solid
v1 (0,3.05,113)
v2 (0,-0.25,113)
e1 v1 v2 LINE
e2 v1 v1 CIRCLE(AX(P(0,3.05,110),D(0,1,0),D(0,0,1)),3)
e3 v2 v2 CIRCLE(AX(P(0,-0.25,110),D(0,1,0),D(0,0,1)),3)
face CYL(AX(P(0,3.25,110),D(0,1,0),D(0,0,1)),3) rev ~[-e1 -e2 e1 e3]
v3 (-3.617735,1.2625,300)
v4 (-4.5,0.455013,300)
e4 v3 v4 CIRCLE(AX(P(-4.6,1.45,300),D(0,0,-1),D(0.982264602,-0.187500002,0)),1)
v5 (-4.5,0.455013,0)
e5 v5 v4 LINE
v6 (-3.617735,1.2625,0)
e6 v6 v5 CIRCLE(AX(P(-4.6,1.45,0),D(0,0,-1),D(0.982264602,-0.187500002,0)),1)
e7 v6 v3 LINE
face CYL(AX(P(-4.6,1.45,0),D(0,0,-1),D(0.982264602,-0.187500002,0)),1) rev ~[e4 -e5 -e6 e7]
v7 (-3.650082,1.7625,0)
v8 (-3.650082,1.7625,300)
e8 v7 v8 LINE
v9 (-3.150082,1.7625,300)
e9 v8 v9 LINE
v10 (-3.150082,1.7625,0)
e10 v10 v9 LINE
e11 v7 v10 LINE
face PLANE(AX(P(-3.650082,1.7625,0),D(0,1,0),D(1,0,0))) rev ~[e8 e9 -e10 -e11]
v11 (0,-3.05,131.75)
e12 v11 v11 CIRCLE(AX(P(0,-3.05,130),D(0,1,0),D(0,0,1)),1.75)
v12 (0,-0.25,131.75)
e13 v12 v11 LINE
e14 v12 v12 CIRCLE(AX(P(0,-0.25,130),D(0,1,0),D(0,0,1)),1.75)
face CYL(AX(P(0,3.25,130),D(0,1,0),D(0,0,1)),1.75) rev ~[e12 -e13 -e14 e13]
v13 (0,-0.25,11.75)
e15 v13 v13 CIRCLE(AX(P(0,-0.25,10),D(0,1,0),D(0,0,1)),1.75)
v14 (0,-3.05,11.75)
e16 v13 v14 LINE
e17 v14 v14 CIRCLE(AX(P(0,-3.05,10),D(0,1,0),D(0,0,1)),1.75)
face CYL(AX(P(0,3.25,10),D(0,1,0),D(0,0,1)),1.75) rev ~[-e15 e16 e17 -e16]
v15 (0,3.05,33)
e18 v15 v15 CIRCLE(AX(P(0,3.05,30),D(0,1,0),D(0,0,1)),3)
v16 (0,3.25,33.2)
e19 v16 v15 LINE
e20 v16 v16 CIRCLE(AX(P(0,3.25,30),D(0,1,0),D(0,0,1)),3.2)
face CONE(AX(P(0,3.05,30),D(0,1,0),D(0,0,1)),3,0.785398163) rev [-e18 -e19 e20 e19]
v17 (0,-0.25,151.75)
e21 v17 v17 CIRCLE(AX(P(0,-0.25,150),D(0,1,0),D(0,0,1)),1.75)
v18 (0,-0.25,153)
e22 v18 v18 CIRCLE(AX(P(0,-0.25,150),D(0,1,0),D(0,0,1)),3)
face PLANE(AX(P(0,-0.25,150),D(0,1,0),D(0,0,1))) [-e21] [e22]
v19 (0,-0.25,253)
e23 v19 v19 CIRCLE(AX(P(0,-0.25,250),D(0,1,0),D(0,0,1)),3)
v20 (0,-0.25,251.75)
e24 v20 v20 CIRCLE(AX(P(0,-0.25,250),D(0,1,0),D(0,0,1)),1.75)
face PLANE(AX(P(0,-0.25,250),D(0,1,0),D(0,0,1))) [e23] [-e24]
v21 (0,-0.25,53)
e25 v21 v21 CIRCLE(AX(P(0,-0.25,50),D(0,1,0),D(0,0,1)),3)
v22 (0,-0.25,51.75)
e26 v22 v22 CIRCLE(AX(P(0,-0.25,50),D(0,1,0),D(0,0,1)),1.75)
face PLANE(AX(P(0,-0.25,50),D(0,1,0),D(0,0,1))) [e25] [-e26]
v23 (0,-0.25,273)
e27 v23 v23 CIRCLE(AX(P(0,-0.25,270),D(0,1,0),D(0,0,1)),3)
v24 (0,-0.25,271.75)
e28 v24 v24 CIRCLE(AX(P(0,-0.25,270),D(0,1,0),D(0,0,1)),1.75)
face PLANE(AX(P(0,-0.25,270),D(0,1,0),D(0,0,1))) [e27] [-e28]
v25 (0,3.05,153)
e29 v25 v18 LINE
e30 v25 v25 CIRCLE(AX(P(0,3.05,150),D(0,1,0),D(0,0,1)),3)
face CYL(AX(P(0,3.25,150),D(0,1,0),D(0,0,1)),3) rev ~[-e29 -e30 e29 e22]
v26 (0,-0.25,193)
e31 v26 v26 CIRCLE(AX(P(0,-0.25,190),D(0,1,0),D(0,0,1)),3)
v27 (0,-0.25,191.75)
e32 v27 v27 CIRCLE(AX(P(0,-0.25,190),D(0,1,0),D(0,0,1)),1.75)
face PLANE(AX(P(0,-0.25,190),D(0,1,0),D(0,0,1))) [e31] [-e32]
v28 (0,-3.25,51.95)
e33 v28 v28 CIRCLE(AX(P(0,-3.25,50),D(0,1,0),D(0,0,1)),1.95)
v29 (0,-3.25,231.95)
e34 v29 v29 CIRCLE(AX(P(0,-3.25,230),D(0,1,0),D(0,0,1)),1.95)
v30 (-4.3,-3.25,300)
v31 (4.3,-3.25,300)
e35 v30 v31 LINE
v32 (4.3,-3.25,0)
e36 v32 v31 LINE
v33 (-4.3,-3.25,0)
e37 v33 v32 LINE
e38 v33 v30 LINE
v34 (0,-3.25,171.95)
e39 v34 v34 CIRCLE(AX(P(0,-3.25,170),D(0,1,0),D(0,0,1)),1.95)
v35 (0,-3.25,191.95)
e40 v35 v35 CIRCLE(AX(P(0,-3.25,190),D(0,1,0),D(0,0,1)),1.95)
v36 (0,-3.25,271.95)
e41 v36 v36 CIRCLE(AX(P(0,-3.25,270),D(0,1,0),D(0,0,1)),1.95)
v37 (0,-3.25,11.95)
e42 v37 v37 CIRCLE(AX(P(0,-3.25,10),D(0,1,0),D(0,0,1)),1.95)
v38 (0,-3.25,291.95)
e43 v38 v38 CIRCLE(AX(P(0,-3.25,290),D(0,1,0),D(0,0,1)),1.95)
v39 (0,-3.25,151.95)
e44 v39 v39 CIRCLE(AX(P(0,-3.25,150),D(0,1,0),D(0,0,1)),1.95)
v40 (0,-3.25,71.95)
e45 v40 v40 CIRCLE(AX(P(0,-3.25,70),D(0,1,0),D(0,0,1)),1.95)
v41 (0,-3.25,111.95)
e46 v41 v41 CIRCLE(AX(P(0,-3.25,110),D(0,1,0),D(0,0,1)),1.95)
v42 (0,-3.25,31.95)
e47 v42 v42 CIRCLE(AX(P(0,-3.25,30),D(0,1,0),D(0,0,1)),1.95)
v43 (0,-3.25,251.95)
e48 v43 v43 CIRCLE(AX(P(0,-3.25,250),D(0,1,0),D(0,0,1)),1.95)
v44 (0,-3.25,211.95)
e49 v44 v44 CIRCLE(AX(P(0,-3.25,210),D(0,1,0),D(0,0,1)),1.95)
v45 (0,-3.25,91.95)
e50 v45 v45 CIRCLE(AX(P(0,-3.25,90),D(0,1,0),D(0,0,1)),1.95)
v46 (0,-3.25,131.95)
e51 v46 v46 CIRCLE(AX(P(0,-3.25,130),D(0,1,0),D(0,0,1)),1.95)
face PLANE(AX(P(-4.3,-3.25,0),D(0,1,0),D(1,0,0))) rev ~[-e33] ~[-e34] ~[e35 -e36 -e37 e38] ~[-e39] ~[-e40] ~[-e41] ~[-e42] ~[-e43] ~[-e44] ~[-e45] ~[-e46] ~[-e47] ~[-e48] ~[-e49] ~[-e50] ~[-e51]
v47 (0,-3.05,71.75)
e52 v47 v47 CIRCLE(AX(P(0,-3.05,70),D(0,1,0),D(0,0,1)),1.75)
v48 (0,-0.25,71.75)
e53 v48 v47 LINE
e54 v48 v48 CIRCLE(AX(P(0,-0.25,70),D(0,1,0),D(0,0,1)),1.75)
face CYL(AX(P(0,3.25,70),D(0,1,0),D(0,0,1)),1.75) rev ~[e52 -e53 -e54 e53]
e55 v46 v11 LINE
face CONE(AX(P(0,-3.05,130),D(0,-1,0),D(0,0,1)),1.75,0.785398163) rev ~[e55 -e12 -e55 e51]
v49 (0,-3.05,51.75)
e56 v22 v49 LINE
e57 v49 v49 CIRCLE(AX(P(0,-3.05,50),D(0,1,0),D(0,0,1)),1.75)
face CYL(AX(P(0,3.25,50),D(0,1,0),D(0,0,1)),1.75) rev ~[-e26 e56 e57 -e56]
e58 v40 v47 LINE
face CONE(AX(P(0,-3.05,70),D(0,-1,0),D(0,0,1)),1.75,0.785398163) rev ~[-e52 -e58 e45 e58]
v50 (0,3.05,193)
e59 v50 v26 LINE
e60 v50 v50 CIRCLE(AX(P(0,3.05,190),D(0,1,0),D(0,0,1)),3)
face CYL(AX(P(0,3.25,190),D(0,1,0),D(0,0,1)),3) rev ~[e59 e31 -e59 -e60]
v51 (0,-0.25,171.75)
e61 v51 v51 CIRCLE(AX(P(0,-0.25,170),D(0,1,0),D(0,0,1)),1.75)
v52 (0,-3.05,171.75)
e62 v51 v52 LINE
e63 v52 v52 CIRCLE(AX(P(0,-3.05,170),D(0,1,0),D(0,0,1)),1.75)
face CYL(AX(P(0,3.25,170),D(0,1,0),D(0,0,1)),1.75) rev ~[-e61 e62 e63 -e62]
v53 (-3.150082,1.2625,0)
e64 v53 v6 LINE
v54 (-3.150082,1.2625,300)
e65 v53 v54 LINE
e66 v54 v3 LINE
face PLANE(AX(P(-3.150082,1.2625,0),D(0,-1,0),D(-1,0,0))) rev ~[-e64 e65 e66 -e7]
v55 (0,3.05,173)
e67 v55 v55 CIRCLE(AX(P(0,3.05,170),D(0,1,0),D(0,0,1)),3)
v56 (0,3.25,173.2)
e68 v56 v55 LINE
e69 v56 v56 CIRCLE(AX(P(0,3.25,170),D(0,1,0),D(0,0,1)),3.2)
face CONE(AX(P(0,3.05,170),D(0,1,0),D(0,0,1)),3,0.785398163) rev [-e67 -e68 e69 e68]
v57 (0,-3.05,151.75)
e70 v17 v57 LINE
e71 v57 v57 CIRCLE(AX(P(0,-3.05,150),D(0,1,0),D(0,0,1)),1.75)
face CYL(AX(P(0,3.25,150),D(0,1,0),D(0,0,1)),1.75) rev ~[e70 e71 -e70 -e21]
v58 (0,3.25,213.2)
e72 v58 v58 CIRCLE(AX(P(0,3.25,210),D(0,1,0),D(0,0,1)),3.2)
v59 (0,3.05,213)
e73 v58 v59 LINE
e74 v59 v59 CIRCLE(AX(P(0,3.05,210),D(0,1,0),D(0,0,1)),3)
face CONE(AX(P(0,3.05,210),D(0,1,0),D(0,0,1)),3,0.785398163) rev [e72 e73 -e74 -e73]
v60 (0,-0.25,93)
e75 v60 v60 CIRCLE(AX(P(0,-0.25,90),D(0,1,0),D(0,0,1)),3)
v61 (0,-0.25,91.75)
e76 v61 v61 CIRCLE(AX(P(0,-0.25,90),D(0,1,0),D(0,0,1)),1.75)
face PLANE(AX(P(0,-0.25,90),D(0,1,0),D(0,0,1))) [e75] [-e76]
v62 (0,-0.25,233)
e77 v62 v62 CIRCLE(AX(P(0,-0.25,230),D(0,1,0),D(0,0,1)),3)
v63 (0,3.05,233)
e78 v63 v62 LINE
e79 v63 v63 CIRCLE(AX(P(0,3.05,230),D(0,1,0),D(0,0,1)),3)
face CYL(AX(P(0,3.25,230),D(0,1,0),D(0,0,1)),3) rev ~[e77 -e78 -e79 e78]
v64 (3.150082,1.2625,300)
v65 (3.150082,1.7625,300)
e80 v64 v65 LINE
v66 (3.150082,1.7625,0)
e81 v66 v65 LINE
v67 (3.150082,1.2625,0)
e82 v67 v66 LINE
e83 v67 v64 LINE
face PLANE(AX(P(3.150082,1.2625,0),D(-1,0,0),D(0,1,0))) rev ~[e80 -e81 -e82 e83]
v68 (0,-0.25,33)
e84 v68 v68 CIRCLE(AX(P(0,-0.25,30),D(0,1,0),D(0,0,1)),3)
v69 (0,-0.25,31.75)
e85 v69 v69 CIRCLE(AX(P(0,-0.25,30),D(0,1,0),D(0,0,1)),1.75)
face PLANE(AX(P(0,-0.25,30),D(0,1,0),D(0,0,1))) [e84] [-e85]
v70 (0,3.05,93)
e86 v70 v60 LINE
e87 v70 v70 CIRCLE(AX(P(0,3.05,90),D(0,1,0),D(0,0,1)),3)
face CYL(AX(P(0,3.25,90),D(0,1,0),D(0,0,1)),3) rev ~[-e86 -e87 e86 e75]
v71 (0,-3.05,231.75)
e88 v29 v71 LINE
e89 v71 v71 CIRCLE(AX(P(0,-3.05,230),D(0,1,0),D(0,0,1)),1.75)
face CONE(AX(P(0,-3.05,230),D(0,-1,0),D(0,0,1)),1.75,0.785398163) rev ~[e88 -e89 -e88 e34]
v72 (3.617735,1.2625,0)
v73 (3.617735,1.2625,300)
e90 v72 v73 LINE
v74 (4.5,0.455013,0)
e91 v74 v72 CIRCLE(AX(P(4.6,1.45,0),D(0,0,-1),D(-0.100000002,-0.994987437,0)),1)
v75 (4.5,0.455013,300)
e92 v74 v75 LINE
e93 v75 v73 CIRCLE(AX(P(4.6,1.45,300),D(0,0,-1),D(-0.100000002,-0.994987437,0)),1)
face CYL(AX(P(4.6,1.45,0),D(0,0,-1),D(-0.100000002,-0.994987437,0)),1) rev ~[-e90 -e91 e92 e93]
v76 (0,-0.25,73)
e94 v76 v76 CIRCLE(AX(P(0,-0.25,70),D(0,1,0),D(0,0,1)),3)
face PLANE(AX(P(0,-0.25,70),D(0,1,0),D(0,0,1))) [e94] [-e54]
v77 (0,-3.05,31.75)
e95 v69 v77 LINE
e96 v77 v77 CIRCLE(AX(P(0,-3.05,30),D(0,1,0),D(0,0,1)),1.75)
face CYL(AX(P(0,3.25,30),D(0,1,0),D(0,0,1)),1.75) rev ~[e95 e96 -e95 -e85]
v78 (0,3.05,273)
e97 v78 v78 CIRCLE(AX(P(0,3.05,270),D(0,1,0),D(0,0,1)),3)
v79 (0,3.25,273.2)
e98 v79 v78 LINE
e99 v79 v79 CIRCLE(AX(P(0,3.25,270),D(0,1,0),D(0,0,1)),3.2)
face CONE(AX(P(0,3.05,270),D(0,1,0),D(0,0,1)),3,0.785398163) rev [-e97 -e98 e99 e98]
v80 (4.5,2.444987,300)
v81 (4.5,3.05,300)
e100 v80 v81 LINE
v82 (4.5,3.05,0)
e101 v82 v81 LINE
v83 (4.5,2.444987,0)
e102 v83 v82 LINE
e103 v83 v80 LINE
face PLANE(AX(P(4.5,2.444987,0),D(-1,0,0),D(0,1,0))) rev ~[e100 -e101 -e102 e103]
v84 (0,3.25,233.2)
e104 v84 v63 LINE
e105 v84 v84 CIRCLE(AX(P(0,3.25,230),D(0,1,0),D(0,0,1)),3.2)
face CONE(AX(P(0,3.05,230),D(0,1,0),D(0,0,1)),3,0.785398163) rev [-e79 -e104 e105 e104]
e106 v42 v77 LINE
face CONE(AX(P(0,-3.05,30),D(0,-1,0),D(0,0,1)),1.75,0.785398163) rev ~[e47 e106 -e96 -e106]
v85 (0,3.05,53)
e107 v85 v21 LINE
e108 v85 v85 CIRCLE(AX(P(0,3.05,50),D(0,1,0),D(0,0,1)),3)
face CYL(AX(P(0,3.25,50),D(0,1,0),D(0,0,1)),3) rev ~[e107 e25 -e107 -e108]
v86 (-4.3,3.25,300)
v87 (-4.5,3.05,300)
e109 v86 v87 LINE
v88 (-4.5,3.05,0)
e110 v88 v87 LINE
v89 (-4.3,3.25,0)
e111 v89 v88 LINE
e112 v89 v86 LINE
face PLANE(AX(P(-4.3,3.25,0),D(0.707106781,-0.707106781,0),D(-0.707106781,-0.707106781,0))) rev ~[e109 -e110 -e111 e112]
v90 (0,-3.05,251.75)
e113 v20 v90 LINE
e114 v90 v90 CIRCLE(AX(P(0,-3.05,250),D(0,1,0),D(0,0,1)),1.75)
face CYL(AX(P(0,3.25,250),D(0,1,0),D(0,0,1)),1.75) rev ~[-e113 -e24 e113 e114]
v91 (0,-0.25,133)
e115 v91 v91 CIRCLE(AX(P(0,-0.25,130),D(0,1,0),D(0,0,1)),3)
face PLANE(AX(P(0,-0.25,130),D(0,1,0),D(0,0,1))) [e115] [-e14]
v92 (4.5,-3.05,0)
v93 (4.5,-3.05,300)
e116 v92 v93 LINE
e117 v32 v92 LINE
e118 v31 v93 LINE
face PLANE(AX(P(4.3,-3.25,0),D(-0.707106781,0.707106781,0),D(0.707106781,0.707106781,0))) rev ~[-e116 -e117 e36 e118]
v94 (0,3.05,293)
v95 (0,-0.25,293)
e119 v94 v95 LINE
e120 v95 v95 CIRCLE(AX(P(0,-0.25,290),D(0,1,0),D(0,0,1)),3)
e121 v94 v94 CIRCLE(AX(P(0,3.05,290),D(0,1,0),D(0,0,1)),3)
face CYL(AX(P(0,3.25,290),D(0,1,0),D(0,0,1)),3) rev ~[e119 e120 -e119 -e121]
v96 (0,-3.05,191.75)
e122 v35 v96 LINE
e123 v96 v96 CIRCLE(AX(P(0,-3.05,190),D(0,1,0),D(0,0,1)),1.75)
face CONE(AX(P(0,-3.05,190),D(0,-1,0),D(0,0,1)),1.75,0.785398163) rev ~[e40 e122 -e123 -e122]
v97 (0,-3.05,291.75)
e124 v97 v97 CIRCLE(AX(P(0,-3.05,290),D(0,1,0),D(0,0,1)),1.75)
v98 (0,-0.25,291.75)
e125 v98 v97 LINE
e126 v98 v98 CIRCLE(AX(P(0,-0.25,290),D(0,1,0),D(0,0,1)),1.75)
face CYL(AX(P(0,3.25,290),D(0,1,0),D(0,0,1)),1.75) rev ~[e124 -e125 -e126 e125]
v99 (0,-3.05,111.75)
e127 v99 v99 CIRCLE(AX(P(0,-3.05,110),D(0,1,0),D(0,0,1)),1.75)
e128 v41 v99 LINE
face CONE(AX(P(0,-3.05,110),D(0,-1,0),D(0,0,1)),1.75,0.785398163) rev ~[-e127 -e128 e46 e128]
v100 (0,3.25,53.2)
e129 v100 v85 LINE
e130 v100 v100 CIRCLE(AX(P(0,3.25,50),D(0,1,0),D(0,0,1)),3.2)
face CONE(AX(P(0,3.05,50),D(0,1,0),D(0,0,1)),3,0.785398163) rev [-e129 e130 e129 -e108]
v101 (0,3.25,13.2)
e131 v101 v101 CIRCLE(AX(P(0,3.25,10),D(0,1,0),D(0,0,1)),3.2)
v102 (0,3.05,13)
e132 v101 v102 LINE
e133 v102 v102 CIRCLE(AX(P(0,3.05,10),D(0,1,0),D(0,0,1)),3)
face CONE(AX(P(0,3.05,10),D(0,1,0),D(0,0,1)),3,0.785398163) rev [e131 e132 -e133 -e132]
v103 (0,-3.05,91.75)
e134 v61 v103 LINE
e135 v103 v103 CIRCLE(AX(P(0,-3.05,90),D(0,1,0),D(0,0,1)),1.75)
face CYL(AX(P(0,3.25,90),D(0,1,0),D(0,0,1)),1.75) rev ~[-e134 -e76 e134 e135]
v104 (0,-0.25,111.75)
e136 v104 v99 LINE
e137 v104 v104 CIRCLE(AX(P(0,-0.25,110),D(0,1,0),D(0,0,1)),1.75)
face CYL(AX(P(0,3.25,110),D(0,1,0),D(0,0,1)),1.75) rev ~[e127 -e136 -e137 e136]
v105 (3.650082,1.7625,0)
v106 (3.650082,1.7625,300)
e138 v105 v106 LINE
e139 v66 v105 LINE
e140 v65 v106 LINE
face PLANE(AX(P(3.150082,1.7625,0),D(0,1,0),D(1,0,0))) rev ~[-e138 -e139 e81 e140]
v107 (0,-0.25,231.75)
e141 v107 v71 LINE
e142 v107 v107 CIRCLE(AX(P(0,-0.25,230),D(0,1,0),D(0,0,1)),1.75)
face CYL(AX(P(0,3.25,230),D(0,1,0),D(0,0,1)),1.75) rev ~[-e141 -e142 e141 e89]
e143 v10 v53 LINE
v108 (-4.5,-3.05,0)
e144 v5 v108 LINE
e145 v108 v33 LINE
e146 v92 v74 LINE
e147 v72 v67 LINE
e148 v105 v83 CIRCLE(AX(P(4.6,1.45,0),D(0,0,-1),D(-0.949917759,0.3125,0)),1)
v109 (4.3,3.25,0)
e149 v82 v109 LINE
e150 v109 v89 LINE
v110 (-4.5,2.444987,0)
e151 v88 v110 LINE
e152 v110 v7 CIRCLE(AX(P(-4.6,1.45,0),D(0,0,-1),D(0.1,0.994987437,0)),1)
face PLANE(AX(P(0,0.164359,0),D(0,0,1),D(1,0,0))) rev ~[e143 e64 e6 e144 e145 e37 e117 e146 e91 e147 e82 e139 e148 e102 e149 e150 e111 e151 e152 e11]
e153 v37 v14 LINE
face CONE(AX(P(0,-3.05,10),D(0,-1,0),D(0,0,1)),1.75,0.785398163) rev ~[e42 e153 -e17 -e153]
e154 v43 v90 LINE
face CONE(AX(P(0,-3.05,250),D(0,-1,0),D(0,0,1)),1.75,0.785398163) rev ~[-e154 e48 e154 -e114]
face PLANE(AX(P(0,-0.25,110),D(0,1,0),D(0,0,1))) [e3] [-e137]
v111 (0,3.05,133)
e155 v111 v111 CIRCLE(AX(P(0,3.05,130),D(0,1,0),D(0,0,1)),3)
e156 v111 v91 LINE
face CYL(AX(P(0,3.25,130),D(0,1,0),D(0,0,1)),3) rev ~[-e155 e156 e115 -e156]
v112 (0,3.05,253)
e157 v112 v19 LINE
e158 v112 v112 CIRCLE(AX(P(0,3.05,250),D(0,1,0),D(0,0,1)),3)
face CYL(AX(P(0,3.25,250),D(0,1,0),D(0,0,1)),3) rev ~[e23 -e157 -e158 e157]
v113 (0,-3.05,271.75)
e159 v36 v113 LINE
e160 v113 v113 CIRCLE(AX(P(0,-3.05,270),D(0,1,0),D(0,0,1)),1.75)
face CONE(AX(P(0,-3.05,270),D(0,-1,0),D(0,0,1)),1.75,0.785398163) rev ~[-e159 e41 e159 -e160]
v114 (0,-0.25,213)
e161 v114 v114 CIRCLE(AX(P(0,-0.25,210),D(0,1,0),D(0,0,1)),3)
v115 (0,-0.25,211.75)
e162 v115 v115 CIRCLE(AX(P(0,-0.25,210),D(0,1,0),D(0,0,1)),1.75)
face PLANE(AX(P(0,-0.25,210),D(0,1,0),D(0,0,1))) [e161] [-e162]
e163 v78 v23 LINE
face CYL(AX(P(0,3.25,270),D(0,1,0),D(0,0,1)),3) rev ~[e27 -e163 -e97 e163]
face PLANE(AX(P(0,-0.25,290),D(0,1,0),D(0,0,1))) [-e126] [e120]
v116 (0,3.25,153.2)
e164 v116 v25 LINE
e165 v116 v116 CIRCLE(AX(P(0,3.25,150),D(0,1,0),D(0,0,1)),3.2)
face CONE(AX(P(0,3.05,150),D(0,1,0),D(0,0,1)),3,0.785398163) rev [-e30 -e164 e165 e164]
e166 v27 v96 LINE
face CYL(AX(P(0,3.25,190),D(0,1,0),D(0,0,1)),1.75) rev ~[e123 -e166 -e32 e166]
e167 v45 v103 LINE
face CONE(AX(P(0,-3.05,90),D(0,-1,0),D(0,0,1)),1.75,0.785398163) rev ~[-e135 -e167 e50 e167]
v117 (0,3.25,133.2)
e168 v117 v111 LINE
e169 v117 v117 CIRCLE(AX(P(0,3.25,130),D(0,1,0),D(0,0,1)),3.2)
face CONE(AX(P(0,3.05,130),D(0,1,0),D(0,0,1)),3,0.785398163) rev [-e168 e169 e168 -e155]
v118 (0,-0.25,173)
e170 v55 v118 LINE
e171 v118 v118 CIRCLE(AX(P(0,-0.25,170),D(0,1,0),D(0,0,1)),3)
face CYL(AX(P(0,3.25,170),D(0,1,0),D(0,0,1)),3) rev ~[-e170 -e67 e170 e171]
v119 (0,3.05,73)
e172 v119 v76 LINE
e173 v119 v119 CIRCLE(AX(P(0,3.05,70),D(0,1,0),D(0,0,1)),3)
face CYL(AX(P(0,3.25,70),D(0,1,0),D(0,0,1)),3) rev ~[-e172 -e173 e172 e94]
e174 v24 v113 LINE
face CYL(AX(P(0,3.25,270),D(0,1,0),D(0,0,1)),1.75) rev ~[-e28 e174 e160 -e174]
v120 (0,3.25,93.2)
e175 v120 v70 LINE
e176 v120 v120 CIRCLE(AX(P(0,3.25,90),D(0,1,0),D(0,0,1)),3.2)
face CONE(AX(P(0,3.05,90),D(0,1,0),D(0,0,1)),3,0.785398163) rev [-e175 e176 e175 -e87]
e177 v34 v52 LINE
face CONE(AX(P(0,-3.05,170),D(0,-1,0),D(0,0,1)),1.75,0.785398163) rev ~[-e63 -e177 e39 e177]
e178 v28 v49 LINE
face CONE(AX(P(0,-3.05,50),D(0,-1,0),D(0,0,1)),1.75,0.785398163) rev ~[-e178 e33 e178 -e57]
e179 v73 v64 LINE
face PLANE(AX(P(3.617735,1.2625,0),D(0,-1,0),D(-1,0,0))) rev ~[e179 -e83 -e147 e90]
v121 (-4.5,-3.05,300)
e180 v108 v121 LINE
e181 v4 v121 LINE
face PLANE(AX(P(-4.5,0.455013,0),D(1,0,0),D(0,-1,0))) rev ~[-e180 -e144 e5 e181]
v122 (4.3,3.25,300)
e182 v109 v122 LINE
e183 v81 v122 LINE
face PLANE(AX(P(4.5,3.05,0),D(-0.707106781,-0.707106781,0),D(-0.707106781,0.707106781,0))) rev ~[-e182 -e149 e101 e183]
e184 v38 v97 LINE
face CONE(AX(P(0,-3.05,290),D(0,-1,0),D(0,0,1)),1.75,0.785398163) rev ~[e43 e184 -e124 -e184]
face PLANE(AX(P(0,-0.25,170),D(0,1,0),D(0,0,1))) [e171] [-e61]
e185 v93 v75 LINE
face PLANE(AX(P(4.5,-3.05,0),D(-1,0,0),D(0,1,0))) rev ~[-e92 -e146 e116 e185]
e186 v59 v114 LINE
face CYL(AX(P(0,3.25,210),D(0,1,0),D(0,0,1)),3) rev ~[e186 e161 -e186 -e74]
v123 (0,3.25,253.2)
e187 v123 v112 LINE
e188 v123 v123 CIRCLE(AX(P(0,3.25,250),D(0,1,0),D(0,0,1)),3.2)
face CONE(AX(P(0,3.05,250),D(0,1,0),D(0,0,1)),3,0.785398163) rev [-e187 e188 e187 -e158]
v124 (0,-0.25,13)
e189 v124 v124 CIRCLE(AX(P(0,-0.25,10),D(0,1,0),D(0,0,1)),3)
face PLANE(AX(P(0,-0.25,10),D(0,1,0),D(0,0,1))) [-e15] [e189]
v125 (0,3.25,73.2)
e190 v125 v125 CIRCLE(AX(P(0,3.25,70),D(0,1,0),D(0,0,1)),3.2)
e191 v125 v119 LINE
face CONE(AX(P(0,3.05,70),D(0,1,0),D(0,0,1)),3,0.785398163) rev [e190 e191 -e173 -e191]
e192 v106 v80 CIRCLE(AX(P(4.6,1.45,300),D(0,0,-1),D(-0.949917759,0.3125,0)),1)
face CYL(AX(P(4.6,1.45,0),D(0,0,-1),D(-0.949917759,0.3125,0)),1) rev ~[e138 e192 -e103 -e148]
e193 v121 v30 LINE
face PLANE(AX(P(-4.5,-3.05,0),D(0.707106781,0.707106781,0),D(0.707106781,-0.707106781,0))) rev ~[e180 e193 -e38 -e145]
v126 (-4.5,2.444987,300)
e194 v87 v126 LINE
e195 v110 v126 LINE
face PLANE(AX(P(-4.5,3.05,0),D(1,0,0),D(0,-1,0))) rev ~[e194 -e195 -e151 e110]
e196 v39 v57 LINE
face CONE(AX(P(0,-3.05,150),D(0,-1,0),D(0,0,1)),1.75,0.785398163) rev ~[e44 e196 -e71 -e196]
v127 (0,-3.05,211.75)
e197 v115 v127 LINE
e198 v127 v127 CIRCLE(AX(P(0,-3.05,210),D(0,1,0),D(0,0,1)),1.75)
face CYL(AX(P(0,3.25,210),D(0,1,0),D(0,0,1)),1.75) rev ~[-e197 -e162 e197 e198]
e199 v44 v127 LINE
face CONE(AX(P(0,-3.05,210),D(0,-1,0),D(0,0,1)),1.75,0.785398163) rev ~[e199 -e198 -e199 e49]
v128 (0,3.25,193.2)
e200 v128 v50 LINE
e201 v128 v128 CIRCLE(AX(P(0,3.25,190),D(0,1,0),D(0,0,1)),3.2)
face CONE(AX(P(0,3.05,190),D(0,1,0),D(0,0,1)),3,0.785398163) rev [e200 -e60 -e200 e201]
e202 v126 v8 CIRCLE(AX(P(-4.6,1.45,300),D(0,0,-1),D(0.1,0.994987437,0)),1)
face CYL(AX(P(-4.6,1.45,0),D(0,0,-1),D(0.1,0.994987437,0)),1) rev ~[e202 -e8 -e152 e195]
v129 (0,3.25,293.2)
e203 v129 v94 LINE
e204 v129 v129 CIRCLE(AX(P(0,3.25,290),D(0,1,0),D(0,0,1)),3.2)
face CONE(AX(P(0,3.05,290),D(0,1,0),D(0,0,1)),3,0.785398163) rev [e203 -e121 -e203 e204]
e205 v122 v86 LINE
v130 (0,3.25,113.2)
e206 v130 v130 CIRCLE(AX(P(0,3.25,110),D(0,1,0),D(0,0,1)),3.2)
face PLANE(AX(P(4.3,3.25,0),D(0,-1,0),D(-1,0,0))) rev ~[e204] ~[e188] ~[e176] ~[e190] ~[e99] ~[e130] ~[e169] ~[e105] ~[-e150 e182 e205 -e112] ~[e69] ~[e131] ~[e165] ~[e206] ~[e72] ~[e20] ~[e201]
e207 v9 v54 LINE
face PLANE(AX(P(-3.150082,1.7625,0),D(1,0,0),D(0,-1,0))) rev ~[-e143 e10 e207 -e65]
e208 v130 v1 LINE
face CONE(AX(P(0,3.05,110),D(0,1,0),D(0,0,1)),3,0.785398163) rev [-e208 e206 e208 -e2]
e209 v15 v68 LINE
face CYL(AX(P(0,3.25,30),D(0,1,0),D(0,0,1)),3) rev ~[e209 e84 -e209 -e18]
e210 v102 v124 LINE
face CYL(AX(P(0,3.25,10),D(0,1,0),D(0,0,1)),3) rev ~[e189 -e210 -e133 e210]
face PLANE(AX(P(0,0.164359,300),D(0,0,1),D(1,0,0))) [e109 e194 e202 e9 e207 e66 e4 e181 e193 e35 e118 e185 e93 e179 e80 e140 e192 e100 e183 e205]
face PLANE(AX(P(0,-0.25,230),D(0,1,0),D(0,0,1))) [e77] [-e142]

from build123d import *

# Parameters (mm, degrees)
EXTRUDE1_DEPTH             = 300
EXTRUDE2_REACH             = 302.104
SKETCH2_R                  = 1.75
SKETCH_R                   = 3
SKETCH_R_2                 = 1.75
EXTRUDE4_DEPTH             = 3.5
CHAMFER1_SIZE              = 0.2
LPATTERN1_COUNT            = 15
LPATTERN1_PITCH            = 20
CHAMFER1_OF_LPATTERN1_SIZE = 0.2


with BuildPart() as part:
    # Sketch1 → Extrude1 (new body)
    with BuildSketch(Plane.XY):
        with BuildLine():
            Line((-4.3, -3.25), (4.3, -3.25))
            Line((4.3, -3.25), (4.5, -3.05))
            Line((4.5, -3.05), (4.5, 0.455012563))
            ThreePointArc((4.5, 0.455012563), (3.924845827, 0.712323349), (3.617735397, 1.2625))
            Line((3.617735397, 1.2625), (3.15008224, 1.2625))
            Line((3.15008224, 1.2625), (3.15008224, 1.7625))
            Line((3.15008224, 1.7625), (3.65008224, 1.7625))
            ThreePointArc((3.65008224, 1.7625), (3.973877727, 2.229724887), (4.5, 2.444987437))
            Line((4.5, 2.444987437), (4.5, 3.05))
            Line((4.5, 3.05), (4.3, 3.25))
            Line((4.3, 3.25), (-4.3, 3.25))
            Line((-4.3, 3.25), (-4.5, 3.05))
            Line((-4.5, 3.05), (-4.5, 2.444987437))
            ThreePointArc((-4.5, 2.444987437), (-3.973877727, 2.229724887), (-3.65008224, 1.7625))
            Line((-3.65008224, 1.7625), (-3.15008224, 1.7625))
            Line((-3.15008224, 1.7625), (-3.15008224, 1.2625))
            Line((-3.15008224, 1.2625), (-3.617735397, 1.2625))
            ThreePointArc((-3.617735397, 1.2625), (-3.924845827, 0.712323349), (-4.5, 0.455012563))
            Line((-4.5, 0.455012563), (-4.5, -3.05))
            Line((-4.5, -3.05), (-4.3, -3.25))
        make_face()
    extrude(amount=EXTRUDE1_DEPTH)

    # Sketch2 → Extrude2 (cut, up to next)
    with BuildSketch(Plane(origin=(0, 3.25, 0), x_dir=(1, 0, 0), z_dir=(0, 1, 0)), mode=Mode.PRIVATE) as extrude2_sk1:
        with Locations((0, -10)):
            Circle(SKETCH2_R)
    extrude2_tool1 = extrude(extrude2_sk1.sketch, amount=-EXTRUDE2_REACH, mode=Mode.PRIVATE) & part.part
    extrude2 = extrude2_tool1.solids().sort_by_distance((0, 3.25, 10))[0]
    add(extrude2, mode=Mode.SUBTRACT)

    # Sketch → Extrude4 (cut)
    with BuildSketch(Plane(origin=(0, 3.25, 0), x_dir=(1, 0, 0), z_dir=(0, 1, 0))):
        with Locations((0, -10)):
            Circle(SKETCH_R)
        with Locations((0, -10)):
            Circle(SKETCH_R_2, mode=Mode.SUBTRACT)
    extrude4 = extrude(amount=-EXTRUDE4_DEPTH, mode=Mode.SUBTRACT)

    # Chamfer1
    chamfer1_edges = [part.edges().sort_by_distance(p)[0] for p in [
        (-1.75, -3.25, 10),
        (-3, 3.25, 10),
    ]]
    chamfer(chamfer1_edges, length=CHAMFER1_SIZE)

    # LPattern1: Extrude2, Extrude4 ×15
    with Locations(*[(0, 0, i * LPATTERN1_PITCH) for i in range(1, LPATTERN1_COUNT)]):
        add(extrude2, mode=Mode.SUBTRACT)
        add(extrude4, mode=Mode.SUBTRACT)

    # Chamfer1 of LPattern1
    chamfer1_of_lpattern1_edges = [part.edges().sort_by_distance(p)[0] for p in [
        (-1.75, -3.25, 30),
        (-3, 3.25, 30),
        (-1.75, -3.25, 50),
        (-3, 3.25, 50),
        (-1.75, -3.25, 70),
        (-3, 3.25, 70),
        (-1.75, -3.25, 90),
        (-3, 3.25, 90),
        (-1.75, -3.25, 110),
        (-3, 3.25, 110),
        (-1.75, -3.25, 130),
        (-3, 3.25, 130),
        (-1.75, -3.25, 150),
        (-3, 3.25, 150),
        (-1.75, -3.25, 170),
        (-3, 3.25, 170),
        (-1.75, -3.25, 190),
        (-3, 3.25, 190),
        (-1.75, -3.25, 210),
        (-3, 3.25, 210),
        (-1.75, -3.25, 230),
        (-3, 3.25, 230),
        (-1.75, -3.25, 250),
        (-3, 3.25, 250),
        (-1.75, -3.25, 270),
        (-3, 3.25, 270),
        (-1.75, -3.25, 290),
        (-3, 3.25, 290),
    ]]
    chamfer(chamfer1_of_lpattern1_edges, length=CHAMFER1_OF_LPATTERN1_SIZE)


solid = part.part
